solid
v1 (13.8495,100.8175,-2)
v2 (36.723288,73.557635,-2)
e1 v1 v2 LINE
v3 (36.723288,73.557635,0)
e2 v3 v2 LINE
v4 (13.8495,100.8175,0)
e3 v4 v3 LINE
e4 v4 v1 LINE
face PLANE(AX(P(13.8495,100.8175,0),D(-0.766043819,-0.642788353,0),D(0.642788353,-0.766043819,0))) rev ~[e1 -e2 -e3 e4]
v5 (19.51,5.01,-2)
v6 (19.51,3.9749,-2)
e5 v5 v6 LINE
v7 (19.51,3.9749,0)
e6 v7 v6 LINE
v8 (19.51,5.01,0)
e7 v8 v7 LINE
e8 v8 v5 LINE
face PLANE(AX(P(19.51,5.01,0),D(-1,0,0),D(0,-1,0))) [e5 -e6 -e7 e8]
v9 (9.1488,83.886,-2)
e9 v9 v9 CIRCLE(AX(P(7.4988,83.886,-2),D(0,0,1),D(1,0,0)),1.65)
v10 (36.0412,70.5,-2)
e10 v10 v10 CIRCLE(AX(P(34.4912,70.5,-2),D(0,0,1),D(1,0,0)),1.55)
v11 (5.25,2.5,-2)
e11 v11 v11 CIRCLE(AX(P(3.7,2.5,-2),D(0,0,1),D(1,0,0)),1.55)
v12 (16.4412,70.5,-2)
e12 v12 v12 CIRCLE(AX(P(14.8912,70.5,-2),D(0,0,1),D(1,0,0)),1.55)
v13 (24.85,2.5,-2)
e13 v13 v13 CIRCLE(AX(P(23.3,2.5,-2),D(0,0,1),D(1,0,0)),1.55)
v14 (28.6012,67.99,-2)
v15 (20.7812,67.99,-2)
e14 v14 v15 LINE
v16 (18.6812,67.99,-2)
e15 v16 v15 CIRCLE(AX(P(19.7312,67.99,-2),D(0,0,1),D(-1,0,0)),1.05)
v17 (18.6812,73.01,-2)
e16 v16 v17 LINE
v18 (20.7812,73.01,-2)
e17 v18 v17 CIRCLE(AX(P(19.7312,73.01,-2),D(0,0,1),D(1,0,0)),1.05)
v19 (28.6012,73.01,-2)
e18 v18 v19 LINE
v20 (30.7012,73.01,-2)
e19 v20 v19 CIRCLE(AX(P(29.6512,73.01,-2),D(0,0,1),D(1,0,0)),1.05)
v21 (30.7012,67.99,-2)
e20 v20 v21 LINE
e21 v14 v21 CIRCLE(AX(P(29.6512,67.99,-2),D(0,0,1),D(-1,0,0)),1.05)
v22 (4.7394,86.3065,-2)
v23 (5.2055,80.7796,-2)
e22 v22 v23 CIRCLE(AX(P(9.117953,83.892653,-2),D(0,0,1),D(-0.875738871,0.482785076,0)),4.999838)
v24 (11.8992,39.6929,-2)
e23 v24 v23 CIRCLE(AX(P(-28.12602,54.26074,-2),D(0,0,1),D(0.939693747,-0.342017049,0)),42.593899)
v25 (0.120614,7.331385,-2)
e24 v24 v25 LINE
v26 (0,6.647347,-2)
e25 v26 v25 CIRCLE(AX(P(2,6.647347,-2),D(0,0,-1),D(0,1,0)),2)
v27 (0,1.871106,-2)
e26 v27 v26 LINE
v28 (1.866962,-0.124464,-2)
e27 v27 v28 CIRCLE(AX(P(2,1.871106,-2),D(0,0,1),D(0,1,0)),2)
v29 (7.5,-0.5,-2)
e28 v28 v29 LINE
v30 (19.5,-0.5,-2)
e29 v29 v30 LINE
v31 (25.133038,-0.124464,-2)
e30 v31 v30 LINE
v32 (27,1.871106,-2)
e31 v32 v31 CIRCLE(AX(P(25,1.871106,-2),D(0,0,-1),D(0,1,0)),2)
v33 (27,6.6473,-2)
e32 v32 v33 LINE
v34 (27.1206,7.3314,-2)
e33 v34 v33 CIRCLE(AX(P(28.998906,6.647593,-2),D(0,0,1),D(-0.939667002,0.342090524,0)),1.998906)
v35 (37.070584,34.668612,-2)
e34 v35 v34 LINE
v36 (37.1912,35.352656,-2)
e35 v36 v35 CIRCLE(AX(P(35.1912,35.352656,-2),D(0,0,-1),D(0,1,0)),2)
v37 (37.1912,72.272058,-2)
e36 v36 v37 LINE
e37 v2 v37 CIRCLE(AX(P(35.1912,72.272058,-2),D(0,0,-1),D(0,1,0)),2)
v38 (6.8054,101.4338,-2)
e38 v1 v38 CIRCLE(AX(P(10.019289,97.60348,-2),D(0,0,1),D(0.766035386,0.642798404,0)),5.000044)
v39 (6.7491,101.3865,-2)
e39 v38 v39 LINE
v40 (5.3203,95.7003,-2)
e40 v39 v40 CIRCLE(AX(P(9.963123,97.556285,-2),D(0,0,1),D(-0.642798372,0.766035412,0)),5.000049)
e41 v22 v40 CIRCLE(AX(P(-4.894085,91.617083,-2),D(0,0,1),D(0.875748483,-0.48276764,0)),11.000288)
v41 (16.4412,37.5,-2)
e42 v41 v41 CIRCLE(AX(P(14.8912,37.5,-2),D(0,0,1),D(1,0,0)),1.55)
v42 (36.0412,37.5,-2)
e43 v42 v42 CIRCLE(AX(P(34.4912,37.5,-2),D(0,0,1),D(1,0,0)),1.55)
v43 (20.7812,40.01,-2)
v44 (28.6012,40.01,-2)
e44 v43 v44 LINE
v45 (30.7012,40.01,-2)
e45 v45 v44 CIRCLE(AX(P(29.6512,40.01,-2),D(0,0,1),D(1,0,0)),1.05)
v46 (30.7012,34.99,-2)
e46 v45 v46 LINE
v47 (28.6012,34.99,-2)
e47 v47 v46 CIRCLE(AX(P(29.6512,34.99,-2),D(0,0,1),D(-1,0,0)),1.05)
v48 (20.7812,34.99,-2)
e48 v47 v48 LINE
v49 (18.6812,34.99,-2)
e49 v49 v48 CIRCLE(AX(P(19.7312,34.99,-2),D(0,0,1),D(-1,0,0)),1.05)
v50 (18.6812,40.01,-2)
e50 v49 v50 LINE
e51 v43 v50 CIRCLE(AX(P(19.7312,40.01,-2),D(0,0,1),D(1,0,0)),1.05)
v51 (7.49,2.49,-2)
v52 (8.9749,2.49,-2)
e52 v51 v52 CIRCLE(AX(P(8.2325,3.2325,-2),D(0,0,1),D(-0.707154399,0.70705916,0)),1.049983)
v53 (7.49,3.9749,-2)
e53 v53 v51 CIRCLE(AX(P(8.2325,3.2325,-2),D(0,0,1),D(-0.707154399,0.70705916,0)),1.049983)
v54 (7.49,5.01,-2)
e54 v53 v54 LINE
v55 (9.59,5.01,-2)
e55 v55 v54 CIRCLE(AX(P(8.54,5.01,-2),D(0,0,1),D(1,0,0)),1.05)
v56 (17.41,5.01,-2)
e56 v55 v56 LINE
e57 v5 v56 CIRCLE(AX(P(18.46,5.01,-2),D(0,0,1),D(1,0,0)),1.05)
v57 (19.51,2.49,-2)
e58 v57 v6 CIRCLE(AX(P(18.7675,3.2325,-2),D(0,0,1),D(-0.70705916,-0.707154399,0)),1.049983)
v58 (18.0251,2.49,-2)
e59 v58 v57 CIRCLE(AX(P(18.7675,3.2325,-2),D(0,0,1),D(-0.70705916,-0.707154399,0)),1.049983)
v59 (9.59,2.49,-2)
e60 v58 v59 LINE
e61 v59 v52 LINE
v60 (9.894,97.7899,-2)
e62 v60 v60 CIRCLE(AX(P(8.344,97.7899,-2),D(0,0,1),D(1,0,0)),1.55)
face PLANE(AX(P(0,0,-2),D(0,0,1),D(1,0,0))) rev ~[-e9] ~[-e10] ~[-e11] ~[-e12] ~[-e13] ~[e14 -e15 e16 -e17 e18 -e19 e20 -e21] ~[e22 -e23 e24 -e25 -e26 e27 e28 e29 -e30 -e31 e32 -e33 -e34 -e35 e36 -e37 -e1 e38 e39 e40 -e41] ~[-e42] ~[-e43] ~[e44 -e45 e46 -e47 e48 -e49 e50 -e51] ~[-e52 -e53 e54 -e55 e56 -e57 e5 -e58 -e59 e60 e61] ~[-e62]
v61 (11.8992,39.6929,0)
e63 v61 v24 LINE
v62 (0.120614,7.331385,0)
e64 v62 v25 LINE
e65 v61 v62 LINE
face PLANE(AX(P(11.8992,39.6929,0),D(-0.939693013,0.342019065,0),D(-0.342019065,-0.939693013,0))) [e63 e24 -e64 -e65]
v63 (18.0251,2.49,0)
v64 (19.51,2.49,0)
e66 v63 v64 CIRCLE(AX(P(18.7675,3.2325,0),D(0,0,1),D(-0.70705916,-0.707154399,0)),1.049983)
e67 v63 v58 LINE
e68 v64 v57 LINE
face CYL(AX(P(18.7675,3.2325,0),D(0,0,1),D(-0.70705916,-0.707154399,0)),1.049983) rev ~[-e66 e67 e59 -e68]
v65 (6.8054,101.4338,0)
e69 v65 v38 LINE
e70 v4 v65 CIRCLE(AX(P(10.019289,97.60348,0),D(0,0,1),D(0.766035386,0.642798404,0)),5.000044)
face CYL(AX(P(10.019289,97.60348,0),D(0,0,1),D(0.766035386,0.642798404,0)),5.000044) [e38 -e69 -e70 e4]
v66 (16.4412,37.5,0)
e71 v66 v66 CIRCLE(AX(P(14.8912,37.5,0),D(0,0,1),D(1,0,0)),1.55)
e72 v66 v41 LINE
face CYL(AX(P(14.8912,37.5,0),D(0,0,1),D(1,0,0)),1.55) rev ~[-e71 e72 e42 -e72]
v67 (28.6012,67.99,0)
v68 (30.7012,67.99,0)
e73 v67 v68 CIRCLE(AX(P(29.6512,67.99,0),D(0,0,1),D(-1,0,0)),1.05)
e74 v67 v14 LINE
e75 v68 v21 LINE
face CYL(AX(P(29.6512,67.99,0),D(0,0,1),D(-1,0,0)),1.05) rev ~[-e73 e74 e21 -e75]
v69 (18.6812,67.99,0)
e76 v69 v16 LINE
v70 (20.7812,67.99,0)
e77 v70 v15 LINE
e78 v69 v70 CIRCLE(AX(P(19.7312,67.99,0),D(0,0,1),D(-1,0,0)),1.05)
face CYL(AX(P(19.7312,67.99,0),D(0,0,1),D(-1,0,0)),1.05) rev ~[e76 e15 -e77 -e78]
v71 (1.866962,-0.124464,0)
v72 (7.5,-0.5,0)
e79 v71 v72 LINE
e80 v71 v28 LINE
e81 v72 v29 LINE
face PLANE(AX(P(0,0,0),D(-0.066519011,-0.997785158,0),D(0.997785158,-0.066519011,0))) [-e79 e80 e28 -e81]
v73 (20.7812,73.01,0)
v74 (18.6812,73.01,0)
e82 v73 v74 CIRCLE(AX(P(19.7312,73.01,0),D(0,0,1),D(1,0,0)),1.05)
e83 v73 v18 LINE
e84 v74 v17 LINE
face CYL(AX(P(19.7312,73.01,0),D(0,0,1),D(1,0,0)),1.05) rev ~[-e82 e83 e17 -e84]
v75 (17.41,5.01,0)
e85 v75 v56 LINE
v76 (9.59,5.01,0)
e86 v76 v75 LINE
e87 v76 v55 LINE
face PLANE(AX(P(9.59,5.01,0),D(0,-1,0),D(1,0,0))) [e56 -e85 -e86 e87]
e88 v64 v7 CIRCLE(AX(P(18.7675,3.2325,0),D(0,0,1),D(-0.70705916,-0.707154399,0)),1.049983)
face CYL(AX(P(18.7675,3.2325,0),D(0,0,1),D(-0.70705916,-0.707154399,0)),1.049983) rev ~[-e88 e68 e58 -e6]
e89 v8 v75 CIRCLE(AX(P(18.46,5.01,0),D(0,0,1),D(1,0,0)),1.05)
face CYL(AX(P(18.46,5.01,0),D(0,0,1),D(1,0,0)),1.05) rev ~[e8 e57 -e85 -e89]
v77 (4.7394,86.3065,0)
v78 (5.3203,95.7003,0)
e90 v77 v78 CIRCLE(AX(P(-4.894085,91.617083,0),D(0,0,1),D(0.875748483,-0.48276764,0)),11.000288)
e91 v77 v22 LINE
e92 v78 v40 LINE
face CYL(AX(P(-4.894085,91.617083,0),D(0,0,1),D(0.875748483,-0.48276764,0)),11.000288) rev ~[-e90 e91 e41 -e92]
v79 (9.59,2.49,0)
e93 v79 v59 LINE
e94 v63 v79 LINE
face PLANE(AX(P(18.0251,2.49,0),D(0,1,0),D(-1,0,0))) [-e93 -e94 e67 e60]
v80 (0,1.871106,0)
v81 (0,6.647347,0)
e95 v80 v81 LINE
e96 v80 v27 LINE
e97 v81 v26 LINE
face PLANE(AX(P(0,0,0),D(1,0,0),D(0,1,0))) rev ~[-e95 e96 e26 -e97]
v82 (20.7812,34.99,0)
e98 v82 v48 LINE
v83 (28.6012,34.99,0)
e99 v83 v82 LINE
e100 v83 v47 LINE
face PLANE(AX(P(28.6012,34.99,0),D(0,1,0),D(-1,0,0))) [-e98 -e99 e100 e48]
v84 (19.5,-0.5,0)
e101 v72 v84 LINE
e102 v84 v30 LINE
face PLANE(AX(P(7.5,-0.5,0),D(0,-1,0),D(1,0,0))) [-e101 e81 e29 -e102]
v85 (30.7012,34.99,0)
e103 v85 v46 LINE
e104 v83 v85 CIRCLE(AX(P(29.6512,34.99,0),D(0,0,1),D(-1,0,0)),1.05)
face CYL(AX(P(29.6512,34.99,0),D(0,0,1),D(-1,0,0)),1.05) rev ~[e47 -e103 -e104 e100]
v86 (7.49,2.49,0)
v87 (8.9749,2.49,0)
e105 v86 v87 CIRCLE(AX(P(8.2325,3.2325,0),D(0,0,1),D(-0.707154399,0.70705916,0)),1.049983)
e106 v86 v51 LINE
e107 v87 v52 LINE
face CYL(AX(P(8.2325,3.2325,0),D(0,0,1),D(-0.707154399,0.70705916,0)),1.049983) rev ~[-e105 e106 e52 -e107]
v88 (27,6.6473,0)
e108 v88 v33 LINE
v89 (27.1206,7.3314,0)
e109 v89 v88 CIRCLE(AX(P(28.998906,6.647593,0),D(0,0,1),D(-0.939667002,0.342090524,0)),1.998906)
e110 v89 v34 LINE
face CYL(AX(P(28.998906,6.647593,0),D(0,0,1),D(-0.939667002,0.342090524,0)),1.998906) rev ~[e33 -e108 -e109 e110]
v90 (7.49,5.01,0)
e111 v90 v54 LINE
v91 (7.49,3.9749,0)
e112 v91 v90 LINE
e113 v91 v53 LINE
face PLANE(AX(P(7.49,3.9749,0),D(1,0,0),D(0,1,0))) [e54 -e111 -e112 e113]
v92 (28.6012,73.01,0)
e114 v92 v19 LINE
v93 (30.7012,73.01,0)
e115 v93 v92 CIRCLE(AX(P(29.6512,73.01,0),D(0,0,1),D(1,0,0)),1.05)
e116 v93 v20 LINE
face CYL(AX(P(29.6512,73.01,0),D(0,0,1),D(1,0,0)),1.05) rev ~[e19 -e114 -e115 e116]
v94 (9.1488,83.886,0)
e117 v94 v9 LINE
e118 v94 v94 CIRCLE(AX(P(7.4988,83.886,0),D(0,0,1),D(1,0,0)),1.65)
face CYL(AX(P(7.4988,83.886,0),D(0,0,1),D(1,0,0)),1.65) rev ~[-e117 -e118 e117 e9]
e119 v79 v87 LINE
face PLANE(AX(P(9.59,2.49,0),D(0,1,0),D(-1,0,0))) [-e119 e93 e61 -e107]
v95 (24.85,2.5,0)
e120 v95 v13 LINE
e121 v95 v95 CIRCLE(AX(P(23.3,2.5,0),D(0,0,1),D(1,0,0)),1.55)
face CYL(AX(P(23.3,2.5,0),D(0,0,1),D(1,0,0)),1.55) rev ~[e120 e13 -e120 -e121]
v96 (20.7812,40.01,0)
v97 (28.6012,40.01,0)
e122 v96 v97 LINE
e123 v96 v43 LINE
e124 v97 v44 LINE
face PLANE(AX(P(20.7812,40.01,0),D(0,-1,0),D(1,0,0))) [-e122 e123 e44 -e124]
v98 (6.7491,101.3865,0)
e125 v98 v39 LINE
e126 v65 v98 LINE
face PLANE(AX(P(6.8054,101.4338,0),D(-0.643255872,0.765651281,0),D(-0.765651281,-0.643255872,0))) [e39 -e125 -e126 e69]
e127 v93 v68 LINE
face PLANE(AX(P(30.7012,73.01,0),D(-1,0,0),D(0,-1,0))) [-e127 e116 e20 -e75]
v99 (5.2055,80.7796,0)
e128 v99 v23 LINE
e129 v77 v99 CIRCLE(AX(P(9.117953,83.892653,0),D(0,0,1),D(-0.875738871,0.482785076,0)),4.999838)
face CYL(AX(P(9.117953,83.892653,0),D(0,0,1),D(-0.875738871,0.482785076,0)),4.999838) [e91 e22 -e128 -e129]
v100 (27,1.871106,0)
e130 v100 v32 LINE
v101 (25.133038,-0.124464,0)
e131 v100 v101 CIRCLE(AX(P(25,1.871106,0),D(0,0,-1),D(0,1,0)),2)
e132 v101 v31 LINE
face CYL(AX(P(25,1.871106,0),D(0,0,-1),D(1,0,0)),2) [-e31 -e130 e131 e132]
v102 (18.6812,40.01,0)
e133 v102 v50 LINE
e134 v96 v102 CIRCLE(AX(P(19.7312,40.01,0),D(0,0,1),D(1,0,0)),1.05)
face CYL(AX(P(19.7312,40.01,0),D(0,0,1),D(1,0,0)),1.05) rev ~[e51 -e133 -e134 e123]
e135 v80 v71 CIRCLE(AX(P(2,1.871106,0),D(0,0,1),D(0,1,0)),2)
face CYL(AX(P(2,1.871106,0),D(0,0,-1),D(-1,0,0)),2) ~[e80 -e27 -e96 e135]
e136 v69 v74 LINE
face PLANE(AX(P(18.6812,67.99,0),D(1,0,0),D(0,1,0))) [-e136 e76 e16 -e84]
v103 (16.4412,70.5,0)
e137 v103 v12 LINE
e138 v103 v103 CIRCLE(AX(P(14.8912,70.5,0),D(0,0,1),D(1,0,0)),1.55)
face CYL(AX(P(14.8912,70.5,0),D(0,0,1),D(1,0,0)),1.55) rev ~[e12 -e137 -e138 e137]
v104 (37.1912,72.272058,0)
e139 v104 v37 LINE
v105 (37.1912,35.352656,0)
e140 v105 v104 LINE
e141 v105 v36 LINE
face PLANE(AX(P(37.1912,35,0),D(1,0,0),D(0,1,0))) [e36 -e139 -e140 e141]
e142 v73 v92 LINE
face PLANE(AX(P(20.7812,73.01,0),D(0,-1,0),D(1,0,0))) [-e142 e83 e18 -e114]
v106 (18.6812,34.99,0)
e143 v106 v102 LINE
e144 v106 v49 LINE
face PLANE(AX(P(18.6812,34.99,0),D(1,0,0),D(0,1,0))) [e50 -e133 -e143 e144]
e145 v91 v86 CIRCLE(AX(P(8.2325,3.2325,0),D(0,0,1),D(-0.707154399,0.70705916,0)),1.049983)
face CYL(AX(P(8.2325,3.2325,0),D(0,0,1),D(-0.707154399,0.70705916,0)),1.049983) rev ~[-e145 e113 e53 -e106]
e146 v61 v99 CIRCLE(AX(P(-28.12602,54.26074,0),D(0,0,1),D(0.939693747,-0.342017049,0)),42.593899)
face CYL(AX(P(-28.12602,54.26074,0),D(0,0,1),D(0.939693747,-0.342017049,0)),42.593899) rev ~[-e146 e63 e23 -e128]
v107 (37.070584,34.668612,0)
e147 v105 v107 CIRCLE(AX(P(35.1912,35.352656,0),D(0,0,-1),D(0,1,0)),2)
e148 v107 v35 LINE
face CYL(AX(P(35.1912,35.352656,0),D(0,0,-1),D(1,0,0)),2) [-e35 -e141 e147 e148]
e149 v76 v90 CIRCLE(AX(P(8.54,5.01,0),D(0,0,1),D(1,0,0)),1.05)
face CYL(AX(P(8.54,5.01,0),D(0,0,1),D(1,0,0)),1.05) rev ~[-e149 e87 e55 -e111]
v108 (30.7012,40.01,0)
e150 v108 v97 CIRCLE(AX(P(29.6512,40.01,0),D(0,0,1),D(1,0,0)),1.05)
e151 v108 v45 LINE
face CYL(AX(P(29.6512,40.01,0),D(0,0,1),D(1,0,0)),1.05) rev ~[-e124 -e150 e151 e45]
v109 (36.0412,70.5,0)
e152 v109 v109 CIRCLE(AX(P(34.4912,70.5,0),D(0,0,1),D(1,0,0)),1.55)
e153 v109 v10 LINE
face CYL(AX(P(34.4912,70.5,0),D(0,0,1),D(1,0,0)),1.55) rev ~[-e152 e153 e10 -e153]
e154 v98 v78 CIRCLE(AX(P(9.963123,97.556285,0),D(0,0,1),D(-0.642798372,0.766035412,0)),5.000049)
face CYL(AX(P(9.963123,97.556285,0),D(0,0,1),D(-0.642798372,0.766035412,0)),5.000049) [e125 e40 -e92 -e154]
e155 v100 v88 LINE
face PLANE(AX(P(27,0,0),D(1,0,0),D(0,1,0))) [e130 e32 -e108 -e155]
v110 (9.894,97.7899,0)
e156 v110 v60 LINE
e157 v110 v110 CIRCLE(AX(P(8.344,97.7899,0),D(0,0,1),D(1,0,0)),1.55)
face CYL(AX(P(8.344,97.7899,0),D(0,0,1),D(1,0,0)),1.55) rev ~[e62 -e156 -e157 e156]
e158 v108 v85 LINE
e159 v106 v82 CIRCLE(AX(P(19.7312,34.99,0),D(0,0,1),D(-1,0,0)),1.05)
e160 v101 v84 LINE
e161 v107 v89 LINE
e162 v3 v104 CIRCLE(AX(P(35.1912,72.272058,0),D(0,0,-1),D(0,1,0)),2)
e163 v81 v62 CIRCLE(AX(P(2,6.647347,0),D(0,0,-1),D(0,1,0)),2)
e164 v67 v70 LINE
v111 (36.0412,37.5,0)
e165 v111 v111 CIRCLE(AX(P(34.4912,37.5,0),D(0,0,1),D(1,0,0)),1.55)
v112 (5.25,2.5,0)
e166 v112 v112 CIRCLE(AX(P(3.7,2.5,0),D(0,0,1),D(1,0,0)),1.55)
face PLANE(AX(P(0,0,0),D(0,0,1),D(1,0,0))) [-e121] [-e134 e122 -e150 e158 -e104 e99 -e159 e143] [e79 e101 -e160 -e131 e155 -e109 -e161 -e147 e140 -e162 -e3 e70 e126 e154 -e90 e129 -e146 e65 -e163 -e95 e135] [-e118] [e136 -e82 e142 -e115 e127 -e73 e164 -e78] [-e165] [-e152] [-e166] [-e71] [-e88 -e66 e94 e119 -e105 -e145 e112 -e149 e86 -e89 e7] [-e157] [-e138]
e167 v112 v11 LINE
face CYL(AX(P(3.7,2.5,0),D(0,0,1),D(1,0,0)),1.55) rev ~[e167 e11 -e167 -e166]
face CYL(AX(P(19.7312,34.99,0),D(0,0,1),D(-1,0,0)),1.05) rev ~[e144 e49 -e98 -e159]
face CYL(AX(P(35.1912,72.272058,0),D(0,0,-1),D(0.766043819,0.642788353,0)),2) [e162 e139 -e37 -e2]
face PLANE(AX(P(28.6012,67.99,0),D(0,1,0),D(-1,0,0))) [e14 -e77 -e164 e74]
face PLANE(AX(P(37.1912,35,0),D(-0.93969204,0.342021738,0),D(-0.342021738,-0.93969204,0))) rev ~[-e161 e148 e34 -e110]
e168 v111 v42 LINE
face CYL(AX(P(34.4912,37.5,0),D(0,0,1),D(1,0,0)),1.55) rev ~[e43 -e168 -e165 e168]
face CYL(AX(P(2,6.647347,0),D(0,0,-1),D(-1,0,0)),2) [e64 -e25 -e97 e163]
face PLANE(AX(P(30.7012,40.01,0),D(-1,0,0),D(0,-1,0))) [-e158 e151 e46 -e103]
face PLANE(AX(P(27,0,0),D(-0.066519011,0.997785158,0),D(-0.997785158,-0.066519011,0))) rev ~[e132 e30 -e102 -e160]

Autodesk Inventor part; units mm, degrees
ref_plane "YZ Plane" through (0, 0, 0) normal (1, 0, 0) x (0, 1, 0)
ref_plane "XZ Plane" through (0, 0, 0) normal (0, 1, 0) x (-1, 0, 0)
ref_plane "XY Plane" through (0, 0, 0) normal (0, 0, 1) x (1, 0, 0)
sketch "スケッチ1" plane through (0, 0, 0) normal (0, 0, 1) x (1, 0, 0)
  line L0 (0, 0) -> (27, 0) construction
  line L1 (27, 0) -> (27, 5) construction
  line L2 (27, 5) -> (0, 5) construction
  line L3 (0, 5) -> (0, 0) construction
  line L4 (0, 2.5) -> (27, 2.5) construction
  line L5 (13.5, 5) -> (13.5, 0) construction
  circle A0 centre (3.7, 2.5) radius 1.55
  line L6 (7.5, 5) -> (7.5, 0) construction
  circle A1 centre (23.3, 2.5) radius 1.55
  line L7 (19.5, 5) -> (19.5, 0) construction
  line L8 (7.49, 5.01) -> (9.59, 5.01) construction
  line L9 (19.51, 5.01) -> (19.51, 2.49)
  line L10 (19.51, 2.49) -> (7.49, 2.49)
  line L11 (7.49, 2.49) -> (7.49, 5.01)
  line L12 (7.49, 5.01) -> (19.51, 2.49) construction
  line L13 (19.51, 5.01) -> (7.49, 2.49) construction
  arc A2 (9.59, 5.01) -> (7.49, 5.01) centre (8.54, 5.01) ccw
  arc A3 (19.51, 5.01) -> (17.41, 5.01) centre (18.46, 5.01) ccw
  line L14 (9.59, 5.01) -> (17.41, 5.01)
  line L15 (9.59, 2.49) -> (7.49, 2.49)
  line L16 (17.41, 5.01) -> (19.51, 5.01) construction
  line L17 (27, 7) -> (0, 7) construction
  line L18 (0, 0) -> (0, 7)
  line L19 (12.1912, 35) -> (37.1912, 35) construction
  line L20 (37.1912, 35) -> (37.1912, 40) construction
  line L21 (37.1912, 40) -> (12.1912, 40) construction
  line L22 (12.1912, 40) -> (12.1912, 35) construction
  line L23 (12.1912, 37.5) -> (37.1912, 37.5) construction
  line L24 (24.6912, 40) -> (24.6912, 35) construction
  circle A4 centre (14.8912, 37.5) radius 1.55
  line L25 (18.6912, 40) -> (18.6912, 35) construction
  line L26 (30.6912, 40) -> (30.6912, 35) construction
  circle A5 centre (34.4912, 37.5) radius 1.55
  line L27 (18.6812, 40.01) -> (20.7812, 40.01) construction
  line L28 (30.7012, 40.01) -> (30.7012, 34.99)
  line L29 (30.7012, 34.99) -> (28.6012, 34.99) construction
  line L30 (18.6812, 34.99) -> (18.6812, 40.01)
  line L31 (18.6812, 40.01) -> (30.7012, 34.99) construction
  line L32 (30.7012, 40.01) -> (18.6812, 34.99) construction
  arc A6 (20.7812, 40.01) -> (18.6812, 40.01) centre (19.7312, 40.01) ccw
  arc A7 (18.6812, 34.99) -> (20.7812, 34.99) centre (19.7312, 34.99) ccw
  arc A8 (30.7012, 40.01) -> (28.6012, 40.01) centre (29.6512, 40.01) ccw
  arc A9 (28.6012, 34.99) -> (30.7012, 34.99) centre (29.6512, 34.99) ccw
  line L33 (20.7812, 40.01) -> (28.6012, 40.01)
  line L34 (20.7812, 34.99) -> (18.6812, 34.99) construction
  line L35 (28.6012, 40.01) -> (30.7012, 40.01) construction
  line L36 (28.6012, 34.99) -> (20.7812, 34.99)
  line L37 (12.1912, 73) -> (12.1912, 68) construction
  circle A10 centre (14.8912, 70.5) radius 1.55
  line L38 (37.1912, 68) -> (37.1912, 73) construction
  line L39 (30.6912, 73) -> (30.6912, 68) construction
  circle A11 centre (34.4912, 70.5) radius 1.55
  line L40 (30.7012, 73.01) -> (30.7012, 67.99)
  line L41 (18.6912, 73) -> (18.6912, 68) construction
  line L42 (12.1912, 68) -> (37.1912, 68) construction
  line L43 (37.1912, 73) -> (12.1912, 73) construction
  line L44 (12.1912, 70.5) -> (37.1912, 70.5) construction
  line L45 (24.6912, 73) -> (24.6912, 68) construction
  line L46 (20.7812, 73.01) -> (28.6012, 73.01)
  line L47 (28.6012, 67.99) -> (20.7812, 67.99)
  line L48 (18.6812, 73.01) -> (30.7012, 67.99) construction
  line L49 (30.7012, 73.01) -> (18.6812, 67.99) construction
  arc A12 (30.7012, 73.01) -> (28.6012, 73.01) centre (29.6512, 73.01) ccw
  line L50 (28.6012, 73.01) -> (30.7012, 73.01) construction
  arc A13 (28.6012, 67.99) -> (30.7012, 67.99) centre (29.6512, 67.99) ccw
  line L51 (30.7012, 67.99) -> (28.6012, 67.99) construction
  line L52 (18.6812, 73.01) -> (20.7812, 73.01) construction
  line L53 (20.7812, 67.99) -> (18.6812, 67.99) construction
  arc A14 (20.7812, 73.01) -> (18.6812, 73.01) centre (19.7312, 73.01) ccw
  arc A15 (18.6812, 67.99) -> (20.7812, 67.99) centre (19.7312, 67.99) ccw
  line L54 (18.6812, 67.99) -> (18.6812, 73.01)
  line L55 (27, 0) -> (27, 6.6473)
  line L56 (37.1912, 35) -> (27.1206, 7.3314)
  line L57 (11.8992, 39.6929) -> (0, 7)
  line L58 (37.1912, 35) -> (37.1912, 73)
  line L59 (6.8054, 101.4338) -> (6.7491, 101.3865)
  arc A16 (4.7394, 86.3065) -> (5.3203, 95.7003) centre (-4.8938, 91.617) ccw
  circle A17 centre (-4.8938, 91.617) radius 14.6063 construction
  line L60 (1.0459, 61.9185) -> (-21.5815, 84.5459) construction
  line L61 (-21.5815, 84.5459) -> (-18.0459, 88.0815) construction
  line L62 (-18.0459, 88.0815) -> (4.5815, 65.4541) construction
  line L63 (4.5815, 65.4541) -> (1.0459, 61.9185) construction
  line L64 (1.0459, 61.9185) -> (-18.0459, 88.0815) construction
  line L65 (-21.5815, 84.5459) -> (4.5815, 65.4541) construction
  line L66 (13.8495, 100.8175) -> (37.1912, 73)
  arc A18 (11.8992, 39.6929) -> (5.2055, 80.7796) centre (-28.1256, 54.2607) ccw
  arc A19 (8.344, 97.7899) -> (6.2953, 101.0057) centre (-4.8938, 91.617) ccw construction
  arc A20 (5.0756, 80.942) -> (7.4988, 83.886) centre (-4.8938, 91.617) ccw construction
  circle A21 centre (8.344, 97.7899) radius 1.55
  circle A22 centre (7.4988, 83.886) radius 1.65
  arc A23 (13.8495, 100.8175) -> (6.8054, 101.4338) centre (10.0193, 97.6035) ccw
  arc A24 (6.7491, 101.3865) -> (5.3203, 95.7003) centre (9.9631, 97.5563) ccw
  arc A25 (4.7394, 86.3065) -> (5.2055, 80.7796) centre (9.1182, 83.8926) ccw
  arc A26 (27.1206, 7.3314) -> (27, 6.6473) centre (29, 6.6473) ccw
  arc A27 (7.49, 3.9749) -> (8.9749, 2.49) centre (8.2325, 3.2325) ccw
  arc A28 (18.0251, 2.49) -> (19.51, 3.9749) centre (18.7675, 3.2325) ccw
  line L67 (0, 0) -> (7.5, -0.5)
  line L68 (7.5, -0.5) -> (19.5, -0.5)
  line L69 (27, 0) -> (19.5, -0.5)
  point P0 (24.6912, 37.5)
  point P1 (24.6912, 70.5)
  point P2 (10.6356, 104.6477)
  point P3 (3.5327, 98.6877)
  point P4 (-8.5, 75)
  point P5 (19.51, 3.9749)
  point P6 (18.0251, 2.49)
  point P7 (5.8711, 81.4297)
  dimension "d0" = 27
  dimension "d1" = 5
  dimension "d2" = 3.1
  dimension "d3" = 12
  dimension "d4" = 19.6
  dimension "d9" = 1.05
  dimension "d10" = 7
  dimension "d11" = 25
  dimension "d12" = 5
  dimension "d13" = 3.1
  dimension "d14" = 12
  dimension "d15" = 19.6
  dimension "d16" = 0.01
  dimension "d17" = 0.01
  dimension "d20" = 1.05
  dimension "d22" = 25
  dimension "d23" = 5
  dimension "d24" = 3.1
  dimension "d25" = 12
  dimension "d26" = 19.6
  dimension "d27" = 0.01
  dimension "d28" = 0.01
  dimension "d29" = 1.05
  dimension "d30" = 70
  dimension "d31" = 66
  dimension "d32" = 33
  dimension "d37" = 5
  dimension "d38" = 75
  dimension "d39" = 135
  dimension "d40" = 8.5
  dimension "d46" = 11.8
  dimension "d47" = 32
  dimension "d48" = 50
  dimension "d49" = 6.8
  dimension "d50" = 11
  dimension "d51" = 29.2126
  dimension "d54" = 15
  dimension "d55" = 15
  dimension "d56" = 3.1
  dimension "d57" = 3.3
  dimension "d60" = 5
  dimension "d61" = 2
  dimension "d62" = 1.05
  dimension "d64" = 2.52
  dimension "d65" = 0.01
  dimension "d66" = 0.01
  dimension "d67" = 0.5
  dimension "d69" = 12
extrude "押し出し1" add sketch "スケッチ1" against normal blind 2
fillet "フィレット1" radius 2 5 edges at (37.1912, 73, -1) (37.1912, 35, -1) (0, 7, -1) (27, 0, -1) (0, 0, -1)
equation "\"d12\" = d1"
equation "\"d13\" = d2"
equation "\"d14\" = d3"
equation "\"d15\" = d4"
equation "\"d16\" = d6"
equation "\"d17\" = d6"
equation "\"d22\" = d11"
equation "\"d23\" = d1"
equation "\"d24\" = d2"
equation "\"d25\" = d3"
equation "\"d26\" = d4"
equation "\"d27\" = d6"
equation "\"d28\" = d6"
equation "\"d32\" = 0.5 * d31"
equation "\"d6\" = 0.01"
properties part number "Head_vertical_frame_01" material "GFRP"
